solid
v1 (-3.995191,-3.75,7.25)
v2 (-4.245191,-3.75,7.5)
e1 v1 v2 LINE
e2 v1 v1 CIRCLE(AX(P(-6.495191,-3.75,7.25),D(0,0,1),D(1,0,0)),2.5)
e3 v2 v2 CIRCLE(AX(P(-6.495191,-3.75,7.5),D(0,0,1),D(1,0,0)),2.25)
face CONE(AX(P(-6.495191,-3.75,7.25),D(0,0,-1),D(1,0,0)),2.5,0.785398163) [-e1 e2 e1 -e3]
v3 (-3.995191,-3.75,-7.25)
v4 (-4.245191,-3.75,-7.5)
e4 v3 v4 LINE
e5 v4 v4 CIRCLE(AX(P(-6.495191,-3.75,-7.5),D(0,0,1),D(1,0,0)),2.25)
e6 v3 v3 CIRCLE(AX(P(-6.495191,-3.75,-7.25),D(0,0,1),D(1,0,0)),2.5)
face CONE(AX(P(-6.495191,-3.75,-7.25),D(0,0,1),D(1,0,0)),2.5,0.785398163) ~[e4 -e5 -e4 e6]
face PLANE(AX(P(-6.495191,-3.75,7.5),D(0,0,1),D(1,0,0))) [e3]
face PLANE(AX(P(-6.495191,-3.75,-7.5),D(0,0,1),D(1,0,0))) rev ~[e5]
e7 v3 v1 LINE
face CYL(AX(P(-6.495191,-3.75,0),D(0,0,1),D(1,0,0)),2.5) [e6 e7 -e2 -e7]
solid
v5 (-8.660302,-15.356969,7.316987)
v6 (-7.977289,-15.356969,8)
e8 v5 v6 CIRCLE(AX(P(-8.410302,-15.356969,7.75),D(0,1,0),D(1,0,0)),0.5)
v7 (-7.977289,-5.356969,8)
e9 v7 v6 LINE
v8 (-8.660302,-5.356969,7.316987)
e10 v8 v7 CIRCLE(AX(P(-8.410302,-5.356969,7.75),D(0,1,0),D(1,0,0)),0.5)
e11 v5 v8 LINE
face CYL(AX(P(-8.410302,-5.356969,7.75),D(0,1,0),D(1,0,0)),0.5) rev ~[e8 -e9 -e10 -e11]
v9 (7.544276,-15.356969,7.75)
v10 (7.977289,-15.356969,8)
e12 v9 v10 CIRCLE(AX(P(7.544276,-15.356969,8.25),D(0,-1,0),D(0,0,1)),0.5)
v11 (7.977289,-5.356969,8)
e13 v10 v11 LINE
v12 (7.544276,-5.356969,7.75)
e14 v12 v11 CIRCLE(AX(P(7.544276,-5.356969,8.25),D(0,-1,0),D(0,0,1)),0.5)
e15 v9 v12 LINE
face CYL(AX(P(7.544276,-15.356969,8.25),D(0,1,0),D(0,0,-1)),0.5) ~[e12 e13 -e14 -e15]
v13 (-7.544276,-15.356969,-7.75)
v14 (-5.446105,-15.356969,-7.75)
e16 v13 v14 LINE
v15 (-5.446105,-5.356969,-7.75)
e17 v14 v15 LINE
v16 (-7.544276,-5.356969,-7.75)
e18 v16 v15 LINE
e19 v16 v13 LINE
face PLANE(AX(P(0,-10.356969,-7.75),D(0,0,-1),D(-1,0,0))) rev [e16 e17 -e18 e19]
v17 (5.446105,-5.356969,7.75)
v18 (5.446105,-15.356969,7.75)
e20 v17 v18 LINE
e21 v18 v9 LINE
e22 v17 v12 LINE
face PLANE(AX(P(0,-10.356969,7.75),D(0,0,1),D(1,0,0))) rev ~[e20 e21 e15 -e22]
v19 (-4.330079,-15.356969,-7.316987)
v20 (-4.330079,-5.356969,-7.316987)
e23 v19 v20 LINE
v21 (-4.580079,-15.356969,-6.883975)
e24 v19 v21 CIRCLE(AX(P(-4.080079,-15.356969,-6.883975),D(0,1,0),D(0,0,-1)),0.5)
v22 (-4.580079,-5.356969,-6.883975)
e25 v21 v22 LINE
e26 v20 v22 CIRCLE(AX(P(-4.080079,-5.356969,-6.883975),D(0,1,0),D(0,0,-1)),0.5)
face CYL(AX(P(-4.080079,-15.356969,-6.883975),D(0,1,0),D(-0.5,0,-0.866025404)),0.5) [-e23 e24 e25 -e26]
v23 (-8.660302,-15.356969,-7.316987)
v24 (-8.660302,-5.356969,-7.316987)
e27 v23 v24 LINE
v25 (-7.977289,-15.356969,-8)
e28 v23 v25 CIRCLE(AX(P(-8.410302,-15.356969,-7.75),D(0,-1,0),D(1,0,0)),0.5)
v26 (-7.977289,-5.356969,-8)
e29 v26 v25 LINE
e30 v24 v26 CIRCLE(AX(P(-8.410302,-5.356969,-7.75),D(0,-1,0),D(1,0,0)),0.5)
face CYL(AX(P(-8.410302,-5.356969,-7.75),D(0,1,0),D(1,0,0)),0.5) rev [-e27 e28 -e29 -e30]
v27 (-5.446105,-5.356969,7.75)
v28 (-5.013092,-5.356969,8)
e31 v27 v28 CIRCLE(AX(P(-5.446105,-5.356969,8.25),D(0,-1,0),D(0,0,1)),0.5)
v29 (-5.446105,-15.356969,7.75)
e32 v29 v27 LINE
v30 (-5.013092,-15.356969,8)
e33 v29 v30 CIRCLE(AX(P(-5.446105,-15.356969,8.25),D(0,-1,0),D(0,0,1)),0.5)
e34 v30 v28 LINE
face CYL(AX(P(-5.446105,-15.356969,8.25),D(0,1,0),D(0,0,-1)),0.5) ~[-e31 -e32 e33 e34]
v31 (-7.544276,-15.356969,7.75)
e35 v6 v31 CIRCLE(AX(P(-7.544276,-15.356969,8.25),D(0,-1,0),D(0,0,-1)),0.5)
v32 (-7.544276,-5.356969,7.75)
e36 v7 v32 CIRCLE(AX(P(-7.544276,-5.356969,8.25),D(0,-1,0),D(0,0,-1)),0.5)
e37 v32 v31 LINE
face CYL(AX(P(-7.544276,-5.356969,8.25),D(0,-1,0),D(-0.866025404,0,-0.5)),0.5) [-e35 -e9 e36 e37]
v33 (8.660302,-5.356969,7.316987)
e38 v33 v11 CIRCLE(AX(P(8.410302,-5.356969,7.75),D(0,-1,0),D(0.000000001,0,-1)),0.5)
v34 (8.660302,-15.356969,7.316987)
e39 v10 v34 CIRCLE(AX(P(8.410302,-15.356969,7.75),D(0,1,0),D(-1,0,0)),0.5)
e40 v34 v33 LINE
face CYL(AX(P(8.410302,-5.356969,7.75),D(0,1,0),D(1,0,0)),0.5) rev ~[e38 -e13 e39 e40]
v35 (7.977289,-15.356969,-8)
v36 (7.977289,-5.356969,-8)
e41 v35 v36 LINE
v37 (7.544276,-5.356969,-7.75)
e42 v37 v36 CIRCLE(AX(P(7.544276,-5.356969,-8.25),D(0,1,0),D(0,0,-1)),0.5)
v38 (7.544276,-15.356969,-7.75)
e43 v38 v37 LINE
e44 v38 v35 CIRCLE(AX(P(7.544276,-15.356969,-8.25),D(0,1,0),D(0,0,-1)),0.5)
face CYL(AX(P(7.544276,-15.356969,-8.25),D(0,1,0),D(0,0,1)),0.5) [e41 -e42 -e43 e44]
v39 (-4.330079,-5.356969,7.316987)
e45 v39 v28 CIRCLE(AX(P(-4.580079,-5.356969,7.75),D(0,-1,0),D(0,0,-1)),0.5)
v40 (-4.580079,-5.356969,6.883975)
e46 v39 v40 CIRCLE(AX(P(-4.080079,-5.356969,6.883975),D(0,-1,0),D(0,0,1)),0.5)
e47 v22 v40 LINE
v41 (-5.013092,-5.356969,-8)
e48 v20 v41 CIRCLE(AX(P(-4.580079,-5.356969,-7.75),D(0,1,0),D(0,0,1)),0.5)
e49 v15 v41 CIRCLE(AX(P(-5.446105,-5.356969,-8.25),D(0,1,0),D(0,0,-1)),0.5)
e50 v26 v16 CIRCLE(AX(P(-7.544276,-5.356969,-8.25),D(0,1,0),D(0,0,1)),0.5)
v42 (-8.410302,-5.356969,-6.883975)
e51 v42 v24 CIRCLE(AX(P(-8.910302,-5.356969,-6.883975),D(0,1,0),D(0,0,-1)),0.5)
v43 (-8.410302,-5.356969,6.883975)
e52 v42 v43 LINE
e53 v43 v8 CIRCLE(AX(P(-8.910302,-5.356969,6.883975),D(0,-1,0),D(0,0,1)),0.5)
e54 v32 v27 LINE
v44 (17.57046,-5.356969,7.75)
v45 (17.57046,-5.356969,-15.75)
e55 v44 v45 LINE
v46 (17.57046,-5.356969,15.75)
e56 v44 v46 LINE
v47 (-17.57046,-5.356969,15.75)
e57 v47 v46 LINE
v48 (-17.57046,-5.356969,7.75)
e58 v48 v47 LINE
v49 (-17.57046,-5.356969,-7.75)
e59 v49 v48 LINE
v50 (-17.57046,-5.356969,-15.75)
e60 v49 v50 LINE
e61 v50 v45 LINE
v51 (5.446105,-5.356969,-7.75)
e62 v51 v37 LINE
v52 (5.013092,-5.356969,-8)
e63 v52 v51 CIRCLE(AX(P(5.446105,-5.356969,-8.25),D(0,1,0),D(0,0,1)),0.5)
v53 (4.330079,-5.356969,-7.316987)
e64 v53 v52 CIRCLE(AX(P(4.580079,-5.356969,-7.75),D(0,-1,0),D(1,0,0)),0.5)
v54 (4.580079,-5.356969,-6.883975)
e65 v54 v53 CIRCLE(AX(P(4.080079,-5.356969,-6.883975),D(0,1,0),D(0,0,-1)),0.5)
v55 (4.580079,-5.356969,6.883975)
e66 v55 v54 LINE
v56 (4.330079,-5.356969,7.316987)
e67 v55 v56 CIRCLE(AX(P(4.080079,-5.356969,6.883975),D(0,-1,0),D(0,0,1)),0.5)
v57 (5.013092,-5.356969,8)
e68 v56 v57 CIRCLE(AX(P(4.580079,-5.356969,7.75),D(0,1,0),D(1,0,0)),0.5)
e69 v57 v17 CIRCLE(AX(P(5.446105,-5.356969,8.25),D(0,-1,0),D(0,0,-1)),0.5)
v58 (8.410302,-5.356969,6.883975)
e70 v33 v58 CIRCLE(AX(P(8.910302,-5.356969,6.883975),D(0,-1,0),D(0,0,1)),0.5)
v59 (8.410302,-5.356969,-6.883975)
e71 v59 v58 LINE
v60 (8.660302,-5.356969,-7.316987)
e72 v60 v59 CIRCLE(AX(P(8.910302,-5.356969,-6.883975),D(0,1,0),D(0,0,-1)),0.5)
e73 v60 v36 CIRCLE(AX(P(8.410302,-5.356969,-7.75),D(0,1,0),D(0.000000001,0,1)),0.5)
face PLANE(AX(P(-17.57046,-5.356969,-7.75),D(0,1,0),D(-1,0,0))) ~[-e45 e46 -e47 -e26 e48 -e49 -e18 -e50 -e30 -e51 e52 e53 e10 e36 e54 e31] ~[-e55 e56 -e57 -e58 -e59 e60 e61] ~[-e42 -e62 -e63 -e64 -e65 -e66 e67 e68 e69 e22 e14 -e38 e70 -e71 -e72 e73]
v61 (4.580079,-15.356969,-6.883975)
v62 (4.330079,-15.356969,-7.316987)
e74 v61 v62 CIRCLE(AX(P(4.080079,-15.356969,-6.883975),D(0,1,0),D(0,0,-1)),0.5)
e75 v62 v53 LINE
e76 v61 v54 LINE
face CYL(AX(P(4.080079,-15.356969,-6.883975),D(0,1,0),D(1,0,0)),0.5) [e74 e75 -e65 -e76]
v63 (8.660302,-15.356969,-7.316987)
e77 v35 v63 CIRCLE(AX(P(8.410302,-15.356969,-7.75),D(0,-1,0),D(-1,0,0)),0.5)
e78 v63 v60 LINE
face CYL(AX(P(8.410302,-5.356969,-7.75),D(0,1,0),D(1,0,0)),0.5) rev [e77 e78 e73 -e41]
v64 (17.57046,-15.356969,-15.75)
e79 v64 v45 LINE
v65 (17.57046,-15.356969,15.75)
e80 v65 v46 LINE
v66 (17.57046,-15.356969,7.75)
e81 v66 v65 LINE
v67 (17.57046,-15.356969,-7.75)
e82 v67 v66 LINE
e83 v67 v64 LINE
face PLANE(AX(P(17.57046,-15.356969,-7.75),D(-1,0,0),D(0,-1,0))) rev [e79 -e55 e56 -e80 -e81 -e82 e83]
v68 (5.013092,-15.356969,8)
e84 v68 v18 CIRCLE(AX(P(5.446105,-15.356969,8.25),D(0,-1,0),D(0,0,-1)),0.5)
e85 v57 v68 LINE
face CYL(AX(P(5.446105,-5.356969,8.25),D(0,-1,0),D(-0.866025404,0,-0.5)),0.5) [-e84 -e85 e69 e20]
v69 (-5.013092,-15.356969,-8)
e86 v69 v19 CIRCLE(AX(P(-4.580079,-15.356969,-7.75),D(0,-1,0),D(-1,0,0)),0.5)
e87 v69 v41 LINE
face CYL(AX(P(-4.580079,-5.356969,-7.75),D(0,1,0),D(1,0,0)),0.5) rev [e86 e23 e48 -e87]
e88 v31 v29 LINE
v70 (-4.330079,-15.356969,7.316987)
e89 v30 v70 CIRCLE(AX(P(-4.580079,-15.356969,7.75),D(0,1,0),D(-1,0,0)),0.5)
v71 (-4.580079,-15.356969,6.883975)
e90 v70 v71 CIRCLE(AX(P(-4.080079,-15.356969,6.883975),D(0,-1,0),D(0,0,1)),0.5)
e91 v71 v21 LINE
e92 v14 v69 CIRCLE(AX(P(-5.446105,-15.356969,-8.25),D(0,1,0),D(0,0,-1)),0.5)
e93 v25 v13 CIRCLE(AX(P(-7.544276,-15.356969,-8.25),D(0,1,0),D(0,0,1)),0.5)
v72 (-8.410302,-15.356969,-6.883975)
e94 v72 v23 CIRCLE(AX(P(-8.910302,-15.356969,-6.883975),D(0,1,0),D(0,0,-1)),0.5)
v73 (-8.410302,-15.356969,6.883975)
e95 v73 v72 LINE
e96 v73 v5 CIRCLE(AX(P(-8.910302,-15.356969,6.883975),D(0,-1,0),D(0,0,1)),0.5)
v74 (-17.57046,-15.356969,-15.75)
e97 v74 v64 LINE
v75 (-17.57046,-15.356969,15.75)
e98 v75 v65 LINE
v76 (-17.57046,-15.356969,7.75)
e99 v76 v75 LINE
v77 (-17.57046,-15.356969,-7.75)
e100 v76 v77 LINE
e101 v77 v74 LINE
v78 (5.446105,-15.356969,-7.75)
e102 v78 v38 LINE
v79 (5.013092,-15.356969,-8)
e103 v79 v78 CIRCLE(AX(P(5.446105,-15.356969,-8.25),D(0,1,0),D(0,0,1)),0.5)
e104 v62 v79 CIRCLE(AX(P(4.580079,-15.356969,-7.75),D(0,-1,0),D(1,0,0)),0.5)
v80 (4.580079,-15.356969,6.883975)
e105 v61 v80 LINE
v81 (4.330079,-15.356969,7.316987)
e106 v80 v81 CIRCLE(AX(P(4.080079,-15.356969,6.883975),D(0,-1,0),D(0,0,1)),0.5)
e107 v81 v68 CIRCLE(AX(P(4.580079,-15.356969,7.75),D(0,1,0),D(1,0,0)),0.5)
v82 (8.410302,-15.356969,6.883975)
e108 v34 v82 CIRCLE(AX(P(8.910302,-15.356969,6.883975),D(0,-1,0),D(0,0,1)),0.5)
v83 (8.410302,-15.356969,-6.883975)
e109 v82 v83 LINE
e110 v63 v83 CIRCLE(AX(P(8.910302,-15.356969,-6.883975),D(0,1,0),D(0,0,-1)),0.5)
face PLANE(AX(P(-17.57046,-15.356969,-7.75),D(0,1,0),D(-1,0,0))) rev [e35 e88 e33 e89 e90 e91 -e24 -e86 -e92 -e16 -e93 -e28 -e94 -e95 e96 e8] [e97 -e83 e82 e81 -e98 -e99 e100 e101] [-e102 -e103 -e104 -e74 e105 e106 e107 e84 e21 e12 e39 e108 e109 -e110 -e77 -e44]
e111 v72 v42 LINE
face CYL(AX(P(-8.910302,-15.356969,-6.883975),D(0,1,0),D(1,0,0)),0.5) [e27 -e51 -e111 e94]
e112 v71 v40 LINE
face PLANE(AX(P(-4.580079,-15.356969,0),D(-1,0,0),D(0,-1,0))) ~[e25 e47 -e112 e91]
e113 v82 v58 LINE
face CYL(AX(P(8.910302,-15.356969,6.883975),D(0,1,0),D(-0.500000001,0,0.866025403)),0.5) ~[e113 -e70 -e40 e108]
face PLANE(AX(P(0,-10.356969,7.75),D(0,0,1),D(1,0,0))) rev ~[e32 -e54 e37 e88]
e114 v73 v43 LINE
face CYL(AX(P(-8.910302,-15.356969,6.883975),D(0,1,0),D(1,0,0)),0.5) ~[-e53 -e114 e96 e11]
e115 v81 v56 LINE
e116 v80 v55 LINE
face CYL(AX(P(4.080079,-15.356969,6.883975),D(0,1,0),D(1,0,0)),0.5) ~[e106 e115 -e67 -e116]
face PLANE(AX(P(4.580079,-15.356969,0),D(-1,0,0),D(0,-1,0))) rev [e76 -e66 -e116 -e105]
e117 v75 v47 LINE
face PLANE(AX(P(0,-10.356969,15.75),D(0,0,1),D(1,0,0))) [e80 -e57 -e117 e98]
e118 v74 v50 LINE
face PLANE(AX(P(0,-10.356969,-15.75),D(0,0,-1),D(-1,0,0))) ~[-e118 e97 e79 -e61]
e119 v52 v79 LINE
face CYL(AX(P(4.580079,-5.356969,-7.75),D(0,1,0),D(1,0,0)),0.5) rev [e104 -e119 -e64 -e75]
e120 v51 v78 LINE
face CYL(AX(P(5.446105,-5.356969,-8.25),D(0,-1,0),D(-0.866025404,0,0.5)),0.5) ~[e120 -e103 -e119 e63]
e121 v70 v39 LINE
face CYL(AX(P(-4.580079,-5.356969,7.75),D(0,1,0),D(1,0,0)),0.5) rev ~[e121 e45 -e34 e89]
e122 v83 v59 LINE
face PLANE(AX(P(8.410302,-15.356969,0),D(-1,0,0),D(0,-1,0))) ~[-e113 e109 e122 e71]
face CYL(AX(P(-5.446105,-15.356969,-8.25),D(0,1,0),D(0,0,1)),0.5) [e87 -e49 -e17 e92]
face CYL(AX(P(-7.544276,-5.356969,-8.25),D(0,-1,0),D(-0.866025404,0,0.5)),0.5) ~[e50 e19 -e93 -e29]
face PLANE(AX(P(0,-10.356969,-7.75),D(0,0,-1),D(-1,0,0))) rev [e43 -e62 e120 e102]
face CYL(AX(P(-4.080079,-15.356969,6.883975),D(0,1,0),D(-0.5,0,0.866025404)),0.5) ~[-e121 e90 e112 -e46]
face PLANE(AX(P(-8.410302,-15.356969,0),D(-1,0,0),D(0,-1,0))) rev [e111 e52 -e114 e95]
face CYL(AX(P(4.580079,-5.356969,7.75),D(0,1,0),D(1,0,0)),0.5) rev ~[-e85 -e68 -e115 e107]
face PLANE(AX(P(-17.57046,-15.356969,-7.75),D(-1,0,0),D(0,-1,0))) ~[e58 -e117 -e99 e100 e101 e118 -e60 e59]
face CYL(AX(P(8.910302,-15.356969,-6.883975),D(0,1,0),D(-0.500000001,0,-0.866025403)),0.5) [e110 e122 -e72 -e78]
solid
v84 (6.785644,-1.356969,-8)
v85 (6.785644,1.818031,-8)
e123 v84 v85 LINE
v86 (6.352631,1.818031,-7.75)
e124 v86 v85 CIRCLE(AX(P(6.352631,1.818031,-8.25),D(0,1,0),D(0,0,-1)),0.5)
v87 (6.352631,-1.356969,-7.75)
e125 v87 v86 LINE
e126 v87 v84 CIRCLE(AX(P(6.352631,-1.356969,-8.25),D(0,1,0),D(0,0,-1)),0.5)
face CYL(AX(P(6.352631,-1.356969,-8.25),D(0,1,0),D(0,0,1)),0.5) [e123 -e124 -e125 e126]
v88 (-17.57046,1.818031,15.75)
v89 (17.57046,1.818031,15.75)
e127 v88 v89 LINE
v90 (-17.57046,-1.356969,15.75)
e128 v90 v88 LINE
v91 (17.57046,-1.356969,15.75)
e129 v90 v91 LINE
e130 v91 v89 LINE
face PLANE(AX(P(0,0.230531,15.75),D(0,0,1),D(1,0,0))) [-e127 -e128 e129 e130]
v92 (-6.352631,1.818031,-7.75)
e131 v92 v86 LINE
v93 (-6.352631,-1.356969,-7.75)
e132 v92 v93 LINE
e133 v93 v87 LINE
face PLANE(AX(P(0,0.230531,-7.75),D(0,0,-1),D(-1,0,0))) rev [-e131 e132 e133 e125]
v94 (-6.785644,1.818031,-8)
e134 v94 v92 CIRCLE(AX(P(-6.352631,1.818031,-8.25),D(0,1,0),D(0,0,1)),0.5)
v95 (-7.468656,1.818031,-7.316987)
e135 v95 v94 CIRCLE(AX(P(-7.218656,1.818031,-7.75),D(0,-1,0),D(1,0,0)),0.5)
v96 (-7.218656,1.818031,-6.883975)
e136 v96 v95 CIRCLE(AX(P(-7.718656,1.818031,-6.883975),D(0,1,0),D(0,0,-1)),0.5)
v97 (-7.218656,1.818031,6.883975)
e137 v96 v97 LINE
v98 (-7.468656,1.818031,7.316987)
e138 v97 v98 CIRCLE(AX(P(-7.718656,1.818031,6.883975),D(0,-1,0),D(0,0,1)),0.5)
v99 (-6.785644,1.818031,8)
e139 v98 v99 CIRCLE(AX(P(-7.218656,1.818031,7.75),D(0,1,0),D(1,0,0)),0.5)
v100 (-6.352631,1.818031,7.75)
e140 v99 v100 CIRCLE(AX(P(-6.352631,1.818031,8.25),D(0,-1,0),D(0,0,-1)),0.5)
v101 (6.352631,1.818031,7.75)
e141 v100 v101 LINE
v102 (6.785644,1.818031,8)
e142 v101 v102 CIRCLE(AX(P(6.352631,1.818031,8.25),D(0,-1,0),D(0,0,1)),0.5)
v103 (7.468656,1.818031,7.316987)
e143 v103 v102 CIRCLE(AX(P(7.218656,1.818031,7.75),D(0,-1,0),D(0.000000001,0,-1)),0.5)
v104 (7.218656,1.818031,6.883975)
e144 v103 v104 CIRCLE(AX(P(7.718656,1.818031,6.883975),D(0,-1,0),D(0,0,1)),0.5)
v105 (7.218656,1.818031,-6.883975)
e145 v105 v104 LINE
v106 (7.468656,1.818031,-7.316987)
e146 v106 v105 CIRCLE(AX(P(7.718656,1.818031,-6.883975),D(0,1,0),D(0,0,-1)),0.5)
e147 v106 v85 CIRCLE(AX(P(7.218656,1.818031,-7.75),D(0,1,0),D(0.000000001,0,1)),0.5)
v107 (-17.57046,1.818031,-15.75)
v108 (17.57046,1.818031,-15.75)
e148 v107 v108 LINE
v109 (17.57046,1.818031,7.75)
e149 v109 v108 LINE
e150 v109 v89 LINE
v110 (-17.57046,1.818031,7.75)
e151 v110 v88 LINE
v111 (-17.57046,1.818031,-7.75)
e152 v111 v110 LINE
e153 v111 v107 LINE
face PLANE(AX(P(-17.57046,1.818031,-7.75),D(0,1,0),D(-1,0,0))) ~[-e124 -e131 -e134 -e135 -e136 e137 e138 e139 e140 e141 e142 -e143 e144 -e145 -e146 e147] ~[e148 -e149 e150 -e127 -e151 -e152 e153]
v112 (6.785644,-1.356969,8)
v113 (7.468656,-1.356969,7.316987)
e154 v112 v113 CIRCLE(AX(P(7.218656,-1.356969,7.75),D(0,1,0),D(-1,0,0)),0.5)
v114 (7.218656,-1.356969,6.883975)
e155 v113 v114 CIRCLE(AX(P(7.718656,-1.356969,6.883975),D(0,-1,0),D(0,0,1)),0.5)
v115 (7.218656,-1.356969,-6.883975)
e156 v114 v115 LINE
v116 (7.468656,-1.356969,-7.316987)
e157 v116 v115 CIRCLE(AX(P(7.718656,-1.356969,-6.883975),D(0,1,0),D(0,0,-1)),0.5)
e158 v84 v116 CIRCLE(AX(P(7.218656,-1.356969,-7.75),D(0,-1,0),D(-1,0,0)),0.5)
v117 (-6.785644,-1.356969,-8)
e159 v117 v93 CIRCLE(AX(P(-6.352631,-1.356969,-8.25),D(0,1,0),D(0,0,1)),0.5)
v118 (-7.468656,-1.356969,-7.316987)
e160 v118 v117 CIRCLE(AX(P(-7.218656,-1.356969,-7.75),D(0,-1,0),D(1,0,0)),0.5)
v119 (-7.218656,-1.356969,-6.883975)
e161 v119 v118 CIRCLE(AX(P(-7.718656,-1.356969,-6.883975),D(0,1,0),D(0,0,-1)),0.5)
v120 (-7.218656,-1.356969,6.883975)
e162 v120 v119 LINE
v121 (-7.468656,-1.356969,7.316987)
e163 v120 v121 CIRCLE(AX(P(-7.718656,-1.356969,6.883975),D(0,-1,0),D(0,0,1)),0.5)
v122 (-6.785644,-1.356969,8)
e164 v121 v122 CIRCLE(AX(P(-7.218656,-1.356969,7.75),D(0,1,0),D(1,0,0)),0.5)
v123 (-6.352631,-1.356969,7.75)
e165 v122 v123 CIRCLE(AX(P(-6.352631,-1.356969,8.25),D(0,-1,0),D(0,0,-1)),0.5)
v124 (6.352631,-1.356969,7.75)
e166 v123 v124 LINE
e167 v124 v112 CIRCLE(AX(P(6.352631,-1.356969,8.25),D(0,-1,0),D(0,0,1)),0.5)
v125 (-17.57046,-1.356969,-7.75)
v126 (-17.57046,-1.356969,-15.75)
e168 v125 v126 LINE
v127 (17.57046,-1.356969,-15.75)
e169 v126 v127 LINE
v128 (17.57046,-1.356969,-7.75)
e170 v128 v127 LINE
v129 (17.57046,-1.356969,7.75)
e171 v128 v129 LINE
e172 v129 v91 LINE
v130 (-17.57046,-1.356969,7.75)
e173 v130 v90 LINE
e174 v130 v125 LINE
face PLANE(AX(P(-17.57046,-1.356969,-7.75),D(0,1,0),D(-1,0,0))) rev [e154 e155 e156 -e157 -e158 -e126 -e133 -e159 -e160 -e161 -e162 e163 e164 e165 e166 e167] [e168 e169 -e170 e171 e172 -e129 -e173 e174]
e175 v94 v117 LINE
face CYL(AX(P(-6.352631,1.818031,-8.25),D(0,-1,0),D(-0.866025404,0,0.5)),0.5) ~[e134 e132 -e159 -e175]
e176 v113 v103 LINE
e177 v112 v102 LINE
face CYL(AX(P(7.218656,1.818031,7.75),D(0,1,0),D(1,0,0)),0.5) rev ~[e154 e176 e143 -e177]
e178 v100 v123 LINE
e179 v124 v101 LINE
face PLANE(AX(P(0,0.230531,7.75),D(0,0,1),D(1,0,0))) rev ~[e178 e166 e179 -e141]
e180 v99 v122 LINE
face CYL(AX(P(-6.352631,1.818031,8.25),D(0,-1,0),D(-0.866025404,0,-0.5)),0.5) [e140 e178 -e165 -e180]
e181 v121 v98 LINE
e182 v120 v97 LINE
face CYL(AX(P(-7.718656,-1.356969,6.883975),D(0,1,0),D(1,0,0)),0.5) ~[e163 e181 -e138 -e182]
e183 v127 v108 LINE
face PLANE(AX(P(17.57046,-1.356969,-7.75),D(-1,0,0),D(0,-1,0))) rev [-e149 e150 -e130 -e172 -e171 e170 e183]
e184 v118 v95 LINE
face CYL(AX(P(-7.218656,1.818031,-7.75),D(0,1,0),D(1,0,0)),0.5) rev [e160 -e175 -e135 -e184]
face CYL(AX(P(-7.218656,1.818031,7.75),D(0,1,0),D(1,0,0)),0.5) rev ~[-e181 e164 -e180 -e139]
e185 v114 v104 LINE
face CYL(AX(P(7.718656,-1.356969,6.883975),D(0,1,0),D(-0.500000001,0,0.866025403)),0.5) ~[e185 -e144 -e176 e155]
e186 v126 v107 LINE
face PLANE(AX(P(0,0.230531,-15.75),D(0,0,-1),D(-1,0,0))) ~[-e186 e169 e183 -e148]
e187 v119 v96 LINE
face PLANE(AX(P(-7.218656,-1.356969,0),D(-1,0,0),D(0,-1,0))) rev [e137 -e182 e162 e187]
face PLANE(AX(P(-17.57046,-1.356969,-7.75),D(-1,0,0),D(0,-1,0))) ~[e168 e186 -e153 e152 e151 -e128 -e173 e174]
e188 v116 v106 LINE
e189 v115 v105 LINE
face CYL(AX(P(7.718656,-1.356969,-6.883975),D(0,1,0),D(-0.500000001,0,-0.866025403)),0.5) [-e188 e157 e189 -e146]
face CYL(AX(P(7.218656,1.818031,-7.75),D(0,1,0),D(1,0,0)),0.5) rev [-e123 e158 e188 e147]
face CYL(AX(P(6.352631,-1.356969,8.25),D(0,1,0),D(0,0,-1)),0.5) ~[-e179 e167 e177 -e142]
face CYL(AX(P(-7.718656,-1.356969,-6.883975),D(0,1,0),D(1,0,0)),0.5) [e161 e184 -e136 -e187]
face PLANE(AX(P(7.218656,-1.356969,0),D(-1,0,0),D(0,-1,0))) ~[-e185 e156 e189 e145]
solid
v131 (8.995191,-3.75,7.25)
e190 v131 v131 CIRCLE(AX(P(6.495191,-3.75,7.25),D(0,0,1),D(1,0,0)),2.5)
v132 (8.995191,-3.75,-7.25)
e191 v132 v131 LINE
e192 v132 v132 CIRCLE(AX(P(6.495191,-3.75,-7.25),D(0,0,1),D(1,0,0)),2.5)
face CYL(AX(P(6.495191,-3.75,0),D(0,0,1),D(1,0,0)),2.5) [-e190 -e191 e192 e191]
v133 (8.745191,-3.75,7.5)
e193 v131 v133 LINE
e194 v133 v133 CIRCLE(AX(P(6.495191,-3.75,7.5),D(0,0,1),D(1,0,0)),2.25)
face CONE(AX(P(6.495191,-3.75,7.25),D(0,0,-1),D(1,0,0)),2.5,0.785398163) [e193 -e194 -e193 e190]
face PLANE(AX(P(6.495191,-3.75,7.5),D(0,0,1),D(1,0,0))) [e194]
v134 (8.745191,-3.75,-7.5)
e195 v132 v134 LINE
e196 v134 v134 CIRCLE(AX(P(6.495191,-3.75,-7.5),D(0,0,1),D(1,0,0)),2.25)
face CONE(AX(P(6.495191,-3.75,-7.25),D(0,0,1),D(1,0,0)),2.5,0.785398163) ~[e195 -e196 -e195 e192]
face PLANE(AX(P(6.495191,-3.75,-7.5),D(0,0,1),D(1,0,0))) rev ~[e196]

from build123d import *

# Parameters (mm, degrees)
SKETCH1_W             = 9.160158842
SKETCH1_H             = 10
BOSS_EXTRUDE1_DEPTH   = 7.75
SKETCH1_W_2           = 9.160158841
BOSS_EXTRUDE1_2_DEPTH = 7.75
BOSS_EXTRUDE1_3_DEPTH = 7.75
SKETCH1_W_3           = 10.351804159
SKETCH1_H_2           = 3.175
BOSS_EXTRUDE1_4_DEPTH = 7.75
BOSS_EXTRUDE1_5_DEPTH = 7.75
SKETCH2_W             = 35.140920954
SKETCH2_H             = 10
SKETCH2_H_2           = 3.175
BOSS_EXTRUDE2_DEPTH   = 8
SKETCH3_R             = 0.5
CUT_EXTRUDE1_DEPTH    = 26.627789241
SKETCH4_R             = 0.5
CUT_EXTRUDE2_DEPTH    = 3.175
FILLET1_R             = 0.5
FILLET2_R             = 0.5
SKETCH1_3_R           = 2.5
BOSS_EXTRUDE3_DEPTH   = 7.5
BOSS_EXTRUDE3_2_DEPTH = 7.5
CHAMFER1_SIZE         = 0.25
CHAMFER2_SIZE         = 0.25


with BuildPart() as part:
    # Sketch1 → Boss-Extrude1 (new body)
    with BuildSketch(Plane.XY):
        with Locations((0, -10.356969024)):
            Rectangle(SKETCH1_W, SKETCH1_H)
    extrude(amount=BOSS_EXTRUDE1_DEPTH)



with BuildPart() as body_2:
    # Sketch1 → Boss-Extrude1 2 (new body)
    with BuildSketch(Plane.XY):
        with Locations((12.990381057, -10.356969024)):
            Rectangle(SKETCH1_W_2, SKETCH1_H)
    extrude(amount=BOSS_EXTRUDE1_2_DEPTH)


with BuildPart() as body_3:
    # Sketch1 → Boss-Extrude1 3 (new body)
    with BuildSketch(Plane.XY):
        with Locations((-12.990381057, -10.356969024)):
            Rectangle(SKETCH1_W_2, SKETCH1_H)
    extrude(amount=BOSS_EXTRUDE1_3_DEPTH)


with BuildPart() as body_4:
    # Sketch1 → Boss-Extrude1 4 (new body)
    with BuildSketch(Plane.XY):
        with Locations((-12.394558398, 0.230530976)):
            Rectangle(SKETCH1_W_3, SKETCH1_H_2)
    extrude(amount=BOSS_EXTRUDE1_4_DEPTH)


with BuildPart() as body_5:
    # Sketch1 → Boss-Extrude1 5 (new body)
    with BuildSketch(Plane.XY):
        with Locations((12.394558398, 0.230530976)):
            Rectangle(SKETCH1_W_3, SKETCH1_H_2)
    extrude(amount=BOSS_EXTRUDE1_5_DEPTH)


with BuildPart() as part_1:
    add(part.part)

    add(body_2.part)  # Boss-Extrude2 merges body 2

    add(body_3.part)  # Boss-Extrude2 merges body 3

    add(body_4.part)  # Boss-Extrude2 merges body 4

    add(body_5.part)  # Boss-Extrude2 merges body 5
    # Sketch2 → Boss-Extrude2 (add)
    with BuildSketch(Plane.XY.offset(7.75)):
        with Locations((0, -10.356969024)):
            Rectangle(SKETCH2_W, SKETCH2_H)
        with Locations((0, 0.230530976)):
            Rectangle(SKETCH2_W, SKETCH2_H_2)
    extrude(amount=BOSS_EXTRUDE2_DEPTH)

    # Sketch3 → Cut-Extrude1 (cut, through all)
    with BuildSketch(Plane(origin=(0, -5.356969024, 0), x_dir=(1, 0, 0), z_dir=(0, 1, 0))):
        with Locations((-8.410301636, -7.75)):
            Circle(SKETCH3_R)
        with Locations((-4.580079421, -7.75)):
            Circle(SKETCH3_R)
        with Locations((4.580079421, -7.75)):
            Circle(SKETCH3_R)
        with Locations((8.410301636, -7.75)):
            Circle(SKETCH3_R)
    extrude(amount=-CUT_EXTRUDE1_DEPTH, mode=Mode.SUBTRACT)

    # Sketch4 → Cut-Extrude2 (cut)
    with BuildSketch(Plane(origin=(0, 1.818030976, 0), x_dir=(1, 0, 0), z_dir=(0, 1, 0))):
        with Locations((-7.218656318, -7.75)):
            Circle(SKETCH4_R)
        with Locations((7.218656318, -7.75)):
            Circle(SKETCH4_R)
    extrude(amount=-CUT_EXTRUDE2_DEPTH, mode=Mode.SUBTRACT)

    # Fillet1
    fillet1_edges = [part_1.edges().sort_by_distance(p)[0] for p in [
        (-7.910301636, -10.356969024, 7.75),
        (-4.580079421, -10.356969024, 7.25),
        (5.080079421, -10.356969024, 7.75),
        (4.580079421, -10.356969024, 7.25),
        (7.910301636, -10.356969024, 7.75),
        (-8.410301636, -10.356969024, 7.25),
        (8.410301636, -10.356969024, 7.25),
        (-5.080079421, -10.356969024, 7.75),
    ]]
    fillet(fillet1_edges, radius=FILLET1_R)

    # Fillet2
    fillet2_edges = [part_1.edges().sort_by_distance(p)[0] for p in [
        (7.218656318, 0.230530976, 7.25),
        (-7.218656318, 0.230530976, 7.25),
        (-6.718656318, 0.230530976, 7.75),
        (6.718656318, 0.230530976, 7.75),
    ]]
    fillet(fillet2_edges, radius=FILLET2_R)

    # Mirror1: part across plane


with BuildPart() as part_2:
    add(part_1.part)
    add(part_1.part.mirror(Plane(origin=(0, 0, 0), x_dir=(1, 0, 0), z_dir=(0, 0, -1))))


with BuildPart() as body_2_2:
    # Sketch1<3> → Boss-Extrude3 (new, symmetric)
    with BuildSketch(Plane.XY):
        with Locations((6.495190528, -3.75)):
            Circle(SKETCH1_3_R)
    extrude(amount=BOSS_EXTRUDE3_DEPTH, both=True)

    # Chamfer2
    chamfer2_edges = [body_2_2.edges().sort_by_distance(p)[0] for p in [
        (3.995190528, -3.75, -7.5),
        (3.995190528, -3.75, 7.5),
    ]]
    chamfer(chamfer2_edges, length=CHAMFER2_SIZE)


with BuildPart() as body_3_2:
    # Sketch1<3> → Boss-Extrude3 2 (new, symmetric)
    with BuildSketch(Plane.XY):
        with Locations((-6.495190528, -3.75)):
            Circle(SKETCH1_3_R)
    extrude(amount=BOSS_EXTRUDE3_2_DEPTH, both=True)

    # Chamfer1
    chamfer1_edges = [body_3_2.edges().sort_by_distance(p)[0] for p in [
        (-8.995190528, -3.75, -7.5),
        (-8.995190528, -3.75, 7.5),
    ]]
    chamfer(chamfer1_edges, length=CHAMFER1_SIZE)


solid = Compound([part_2.part, body_2_2.part, body_3_2.part])
